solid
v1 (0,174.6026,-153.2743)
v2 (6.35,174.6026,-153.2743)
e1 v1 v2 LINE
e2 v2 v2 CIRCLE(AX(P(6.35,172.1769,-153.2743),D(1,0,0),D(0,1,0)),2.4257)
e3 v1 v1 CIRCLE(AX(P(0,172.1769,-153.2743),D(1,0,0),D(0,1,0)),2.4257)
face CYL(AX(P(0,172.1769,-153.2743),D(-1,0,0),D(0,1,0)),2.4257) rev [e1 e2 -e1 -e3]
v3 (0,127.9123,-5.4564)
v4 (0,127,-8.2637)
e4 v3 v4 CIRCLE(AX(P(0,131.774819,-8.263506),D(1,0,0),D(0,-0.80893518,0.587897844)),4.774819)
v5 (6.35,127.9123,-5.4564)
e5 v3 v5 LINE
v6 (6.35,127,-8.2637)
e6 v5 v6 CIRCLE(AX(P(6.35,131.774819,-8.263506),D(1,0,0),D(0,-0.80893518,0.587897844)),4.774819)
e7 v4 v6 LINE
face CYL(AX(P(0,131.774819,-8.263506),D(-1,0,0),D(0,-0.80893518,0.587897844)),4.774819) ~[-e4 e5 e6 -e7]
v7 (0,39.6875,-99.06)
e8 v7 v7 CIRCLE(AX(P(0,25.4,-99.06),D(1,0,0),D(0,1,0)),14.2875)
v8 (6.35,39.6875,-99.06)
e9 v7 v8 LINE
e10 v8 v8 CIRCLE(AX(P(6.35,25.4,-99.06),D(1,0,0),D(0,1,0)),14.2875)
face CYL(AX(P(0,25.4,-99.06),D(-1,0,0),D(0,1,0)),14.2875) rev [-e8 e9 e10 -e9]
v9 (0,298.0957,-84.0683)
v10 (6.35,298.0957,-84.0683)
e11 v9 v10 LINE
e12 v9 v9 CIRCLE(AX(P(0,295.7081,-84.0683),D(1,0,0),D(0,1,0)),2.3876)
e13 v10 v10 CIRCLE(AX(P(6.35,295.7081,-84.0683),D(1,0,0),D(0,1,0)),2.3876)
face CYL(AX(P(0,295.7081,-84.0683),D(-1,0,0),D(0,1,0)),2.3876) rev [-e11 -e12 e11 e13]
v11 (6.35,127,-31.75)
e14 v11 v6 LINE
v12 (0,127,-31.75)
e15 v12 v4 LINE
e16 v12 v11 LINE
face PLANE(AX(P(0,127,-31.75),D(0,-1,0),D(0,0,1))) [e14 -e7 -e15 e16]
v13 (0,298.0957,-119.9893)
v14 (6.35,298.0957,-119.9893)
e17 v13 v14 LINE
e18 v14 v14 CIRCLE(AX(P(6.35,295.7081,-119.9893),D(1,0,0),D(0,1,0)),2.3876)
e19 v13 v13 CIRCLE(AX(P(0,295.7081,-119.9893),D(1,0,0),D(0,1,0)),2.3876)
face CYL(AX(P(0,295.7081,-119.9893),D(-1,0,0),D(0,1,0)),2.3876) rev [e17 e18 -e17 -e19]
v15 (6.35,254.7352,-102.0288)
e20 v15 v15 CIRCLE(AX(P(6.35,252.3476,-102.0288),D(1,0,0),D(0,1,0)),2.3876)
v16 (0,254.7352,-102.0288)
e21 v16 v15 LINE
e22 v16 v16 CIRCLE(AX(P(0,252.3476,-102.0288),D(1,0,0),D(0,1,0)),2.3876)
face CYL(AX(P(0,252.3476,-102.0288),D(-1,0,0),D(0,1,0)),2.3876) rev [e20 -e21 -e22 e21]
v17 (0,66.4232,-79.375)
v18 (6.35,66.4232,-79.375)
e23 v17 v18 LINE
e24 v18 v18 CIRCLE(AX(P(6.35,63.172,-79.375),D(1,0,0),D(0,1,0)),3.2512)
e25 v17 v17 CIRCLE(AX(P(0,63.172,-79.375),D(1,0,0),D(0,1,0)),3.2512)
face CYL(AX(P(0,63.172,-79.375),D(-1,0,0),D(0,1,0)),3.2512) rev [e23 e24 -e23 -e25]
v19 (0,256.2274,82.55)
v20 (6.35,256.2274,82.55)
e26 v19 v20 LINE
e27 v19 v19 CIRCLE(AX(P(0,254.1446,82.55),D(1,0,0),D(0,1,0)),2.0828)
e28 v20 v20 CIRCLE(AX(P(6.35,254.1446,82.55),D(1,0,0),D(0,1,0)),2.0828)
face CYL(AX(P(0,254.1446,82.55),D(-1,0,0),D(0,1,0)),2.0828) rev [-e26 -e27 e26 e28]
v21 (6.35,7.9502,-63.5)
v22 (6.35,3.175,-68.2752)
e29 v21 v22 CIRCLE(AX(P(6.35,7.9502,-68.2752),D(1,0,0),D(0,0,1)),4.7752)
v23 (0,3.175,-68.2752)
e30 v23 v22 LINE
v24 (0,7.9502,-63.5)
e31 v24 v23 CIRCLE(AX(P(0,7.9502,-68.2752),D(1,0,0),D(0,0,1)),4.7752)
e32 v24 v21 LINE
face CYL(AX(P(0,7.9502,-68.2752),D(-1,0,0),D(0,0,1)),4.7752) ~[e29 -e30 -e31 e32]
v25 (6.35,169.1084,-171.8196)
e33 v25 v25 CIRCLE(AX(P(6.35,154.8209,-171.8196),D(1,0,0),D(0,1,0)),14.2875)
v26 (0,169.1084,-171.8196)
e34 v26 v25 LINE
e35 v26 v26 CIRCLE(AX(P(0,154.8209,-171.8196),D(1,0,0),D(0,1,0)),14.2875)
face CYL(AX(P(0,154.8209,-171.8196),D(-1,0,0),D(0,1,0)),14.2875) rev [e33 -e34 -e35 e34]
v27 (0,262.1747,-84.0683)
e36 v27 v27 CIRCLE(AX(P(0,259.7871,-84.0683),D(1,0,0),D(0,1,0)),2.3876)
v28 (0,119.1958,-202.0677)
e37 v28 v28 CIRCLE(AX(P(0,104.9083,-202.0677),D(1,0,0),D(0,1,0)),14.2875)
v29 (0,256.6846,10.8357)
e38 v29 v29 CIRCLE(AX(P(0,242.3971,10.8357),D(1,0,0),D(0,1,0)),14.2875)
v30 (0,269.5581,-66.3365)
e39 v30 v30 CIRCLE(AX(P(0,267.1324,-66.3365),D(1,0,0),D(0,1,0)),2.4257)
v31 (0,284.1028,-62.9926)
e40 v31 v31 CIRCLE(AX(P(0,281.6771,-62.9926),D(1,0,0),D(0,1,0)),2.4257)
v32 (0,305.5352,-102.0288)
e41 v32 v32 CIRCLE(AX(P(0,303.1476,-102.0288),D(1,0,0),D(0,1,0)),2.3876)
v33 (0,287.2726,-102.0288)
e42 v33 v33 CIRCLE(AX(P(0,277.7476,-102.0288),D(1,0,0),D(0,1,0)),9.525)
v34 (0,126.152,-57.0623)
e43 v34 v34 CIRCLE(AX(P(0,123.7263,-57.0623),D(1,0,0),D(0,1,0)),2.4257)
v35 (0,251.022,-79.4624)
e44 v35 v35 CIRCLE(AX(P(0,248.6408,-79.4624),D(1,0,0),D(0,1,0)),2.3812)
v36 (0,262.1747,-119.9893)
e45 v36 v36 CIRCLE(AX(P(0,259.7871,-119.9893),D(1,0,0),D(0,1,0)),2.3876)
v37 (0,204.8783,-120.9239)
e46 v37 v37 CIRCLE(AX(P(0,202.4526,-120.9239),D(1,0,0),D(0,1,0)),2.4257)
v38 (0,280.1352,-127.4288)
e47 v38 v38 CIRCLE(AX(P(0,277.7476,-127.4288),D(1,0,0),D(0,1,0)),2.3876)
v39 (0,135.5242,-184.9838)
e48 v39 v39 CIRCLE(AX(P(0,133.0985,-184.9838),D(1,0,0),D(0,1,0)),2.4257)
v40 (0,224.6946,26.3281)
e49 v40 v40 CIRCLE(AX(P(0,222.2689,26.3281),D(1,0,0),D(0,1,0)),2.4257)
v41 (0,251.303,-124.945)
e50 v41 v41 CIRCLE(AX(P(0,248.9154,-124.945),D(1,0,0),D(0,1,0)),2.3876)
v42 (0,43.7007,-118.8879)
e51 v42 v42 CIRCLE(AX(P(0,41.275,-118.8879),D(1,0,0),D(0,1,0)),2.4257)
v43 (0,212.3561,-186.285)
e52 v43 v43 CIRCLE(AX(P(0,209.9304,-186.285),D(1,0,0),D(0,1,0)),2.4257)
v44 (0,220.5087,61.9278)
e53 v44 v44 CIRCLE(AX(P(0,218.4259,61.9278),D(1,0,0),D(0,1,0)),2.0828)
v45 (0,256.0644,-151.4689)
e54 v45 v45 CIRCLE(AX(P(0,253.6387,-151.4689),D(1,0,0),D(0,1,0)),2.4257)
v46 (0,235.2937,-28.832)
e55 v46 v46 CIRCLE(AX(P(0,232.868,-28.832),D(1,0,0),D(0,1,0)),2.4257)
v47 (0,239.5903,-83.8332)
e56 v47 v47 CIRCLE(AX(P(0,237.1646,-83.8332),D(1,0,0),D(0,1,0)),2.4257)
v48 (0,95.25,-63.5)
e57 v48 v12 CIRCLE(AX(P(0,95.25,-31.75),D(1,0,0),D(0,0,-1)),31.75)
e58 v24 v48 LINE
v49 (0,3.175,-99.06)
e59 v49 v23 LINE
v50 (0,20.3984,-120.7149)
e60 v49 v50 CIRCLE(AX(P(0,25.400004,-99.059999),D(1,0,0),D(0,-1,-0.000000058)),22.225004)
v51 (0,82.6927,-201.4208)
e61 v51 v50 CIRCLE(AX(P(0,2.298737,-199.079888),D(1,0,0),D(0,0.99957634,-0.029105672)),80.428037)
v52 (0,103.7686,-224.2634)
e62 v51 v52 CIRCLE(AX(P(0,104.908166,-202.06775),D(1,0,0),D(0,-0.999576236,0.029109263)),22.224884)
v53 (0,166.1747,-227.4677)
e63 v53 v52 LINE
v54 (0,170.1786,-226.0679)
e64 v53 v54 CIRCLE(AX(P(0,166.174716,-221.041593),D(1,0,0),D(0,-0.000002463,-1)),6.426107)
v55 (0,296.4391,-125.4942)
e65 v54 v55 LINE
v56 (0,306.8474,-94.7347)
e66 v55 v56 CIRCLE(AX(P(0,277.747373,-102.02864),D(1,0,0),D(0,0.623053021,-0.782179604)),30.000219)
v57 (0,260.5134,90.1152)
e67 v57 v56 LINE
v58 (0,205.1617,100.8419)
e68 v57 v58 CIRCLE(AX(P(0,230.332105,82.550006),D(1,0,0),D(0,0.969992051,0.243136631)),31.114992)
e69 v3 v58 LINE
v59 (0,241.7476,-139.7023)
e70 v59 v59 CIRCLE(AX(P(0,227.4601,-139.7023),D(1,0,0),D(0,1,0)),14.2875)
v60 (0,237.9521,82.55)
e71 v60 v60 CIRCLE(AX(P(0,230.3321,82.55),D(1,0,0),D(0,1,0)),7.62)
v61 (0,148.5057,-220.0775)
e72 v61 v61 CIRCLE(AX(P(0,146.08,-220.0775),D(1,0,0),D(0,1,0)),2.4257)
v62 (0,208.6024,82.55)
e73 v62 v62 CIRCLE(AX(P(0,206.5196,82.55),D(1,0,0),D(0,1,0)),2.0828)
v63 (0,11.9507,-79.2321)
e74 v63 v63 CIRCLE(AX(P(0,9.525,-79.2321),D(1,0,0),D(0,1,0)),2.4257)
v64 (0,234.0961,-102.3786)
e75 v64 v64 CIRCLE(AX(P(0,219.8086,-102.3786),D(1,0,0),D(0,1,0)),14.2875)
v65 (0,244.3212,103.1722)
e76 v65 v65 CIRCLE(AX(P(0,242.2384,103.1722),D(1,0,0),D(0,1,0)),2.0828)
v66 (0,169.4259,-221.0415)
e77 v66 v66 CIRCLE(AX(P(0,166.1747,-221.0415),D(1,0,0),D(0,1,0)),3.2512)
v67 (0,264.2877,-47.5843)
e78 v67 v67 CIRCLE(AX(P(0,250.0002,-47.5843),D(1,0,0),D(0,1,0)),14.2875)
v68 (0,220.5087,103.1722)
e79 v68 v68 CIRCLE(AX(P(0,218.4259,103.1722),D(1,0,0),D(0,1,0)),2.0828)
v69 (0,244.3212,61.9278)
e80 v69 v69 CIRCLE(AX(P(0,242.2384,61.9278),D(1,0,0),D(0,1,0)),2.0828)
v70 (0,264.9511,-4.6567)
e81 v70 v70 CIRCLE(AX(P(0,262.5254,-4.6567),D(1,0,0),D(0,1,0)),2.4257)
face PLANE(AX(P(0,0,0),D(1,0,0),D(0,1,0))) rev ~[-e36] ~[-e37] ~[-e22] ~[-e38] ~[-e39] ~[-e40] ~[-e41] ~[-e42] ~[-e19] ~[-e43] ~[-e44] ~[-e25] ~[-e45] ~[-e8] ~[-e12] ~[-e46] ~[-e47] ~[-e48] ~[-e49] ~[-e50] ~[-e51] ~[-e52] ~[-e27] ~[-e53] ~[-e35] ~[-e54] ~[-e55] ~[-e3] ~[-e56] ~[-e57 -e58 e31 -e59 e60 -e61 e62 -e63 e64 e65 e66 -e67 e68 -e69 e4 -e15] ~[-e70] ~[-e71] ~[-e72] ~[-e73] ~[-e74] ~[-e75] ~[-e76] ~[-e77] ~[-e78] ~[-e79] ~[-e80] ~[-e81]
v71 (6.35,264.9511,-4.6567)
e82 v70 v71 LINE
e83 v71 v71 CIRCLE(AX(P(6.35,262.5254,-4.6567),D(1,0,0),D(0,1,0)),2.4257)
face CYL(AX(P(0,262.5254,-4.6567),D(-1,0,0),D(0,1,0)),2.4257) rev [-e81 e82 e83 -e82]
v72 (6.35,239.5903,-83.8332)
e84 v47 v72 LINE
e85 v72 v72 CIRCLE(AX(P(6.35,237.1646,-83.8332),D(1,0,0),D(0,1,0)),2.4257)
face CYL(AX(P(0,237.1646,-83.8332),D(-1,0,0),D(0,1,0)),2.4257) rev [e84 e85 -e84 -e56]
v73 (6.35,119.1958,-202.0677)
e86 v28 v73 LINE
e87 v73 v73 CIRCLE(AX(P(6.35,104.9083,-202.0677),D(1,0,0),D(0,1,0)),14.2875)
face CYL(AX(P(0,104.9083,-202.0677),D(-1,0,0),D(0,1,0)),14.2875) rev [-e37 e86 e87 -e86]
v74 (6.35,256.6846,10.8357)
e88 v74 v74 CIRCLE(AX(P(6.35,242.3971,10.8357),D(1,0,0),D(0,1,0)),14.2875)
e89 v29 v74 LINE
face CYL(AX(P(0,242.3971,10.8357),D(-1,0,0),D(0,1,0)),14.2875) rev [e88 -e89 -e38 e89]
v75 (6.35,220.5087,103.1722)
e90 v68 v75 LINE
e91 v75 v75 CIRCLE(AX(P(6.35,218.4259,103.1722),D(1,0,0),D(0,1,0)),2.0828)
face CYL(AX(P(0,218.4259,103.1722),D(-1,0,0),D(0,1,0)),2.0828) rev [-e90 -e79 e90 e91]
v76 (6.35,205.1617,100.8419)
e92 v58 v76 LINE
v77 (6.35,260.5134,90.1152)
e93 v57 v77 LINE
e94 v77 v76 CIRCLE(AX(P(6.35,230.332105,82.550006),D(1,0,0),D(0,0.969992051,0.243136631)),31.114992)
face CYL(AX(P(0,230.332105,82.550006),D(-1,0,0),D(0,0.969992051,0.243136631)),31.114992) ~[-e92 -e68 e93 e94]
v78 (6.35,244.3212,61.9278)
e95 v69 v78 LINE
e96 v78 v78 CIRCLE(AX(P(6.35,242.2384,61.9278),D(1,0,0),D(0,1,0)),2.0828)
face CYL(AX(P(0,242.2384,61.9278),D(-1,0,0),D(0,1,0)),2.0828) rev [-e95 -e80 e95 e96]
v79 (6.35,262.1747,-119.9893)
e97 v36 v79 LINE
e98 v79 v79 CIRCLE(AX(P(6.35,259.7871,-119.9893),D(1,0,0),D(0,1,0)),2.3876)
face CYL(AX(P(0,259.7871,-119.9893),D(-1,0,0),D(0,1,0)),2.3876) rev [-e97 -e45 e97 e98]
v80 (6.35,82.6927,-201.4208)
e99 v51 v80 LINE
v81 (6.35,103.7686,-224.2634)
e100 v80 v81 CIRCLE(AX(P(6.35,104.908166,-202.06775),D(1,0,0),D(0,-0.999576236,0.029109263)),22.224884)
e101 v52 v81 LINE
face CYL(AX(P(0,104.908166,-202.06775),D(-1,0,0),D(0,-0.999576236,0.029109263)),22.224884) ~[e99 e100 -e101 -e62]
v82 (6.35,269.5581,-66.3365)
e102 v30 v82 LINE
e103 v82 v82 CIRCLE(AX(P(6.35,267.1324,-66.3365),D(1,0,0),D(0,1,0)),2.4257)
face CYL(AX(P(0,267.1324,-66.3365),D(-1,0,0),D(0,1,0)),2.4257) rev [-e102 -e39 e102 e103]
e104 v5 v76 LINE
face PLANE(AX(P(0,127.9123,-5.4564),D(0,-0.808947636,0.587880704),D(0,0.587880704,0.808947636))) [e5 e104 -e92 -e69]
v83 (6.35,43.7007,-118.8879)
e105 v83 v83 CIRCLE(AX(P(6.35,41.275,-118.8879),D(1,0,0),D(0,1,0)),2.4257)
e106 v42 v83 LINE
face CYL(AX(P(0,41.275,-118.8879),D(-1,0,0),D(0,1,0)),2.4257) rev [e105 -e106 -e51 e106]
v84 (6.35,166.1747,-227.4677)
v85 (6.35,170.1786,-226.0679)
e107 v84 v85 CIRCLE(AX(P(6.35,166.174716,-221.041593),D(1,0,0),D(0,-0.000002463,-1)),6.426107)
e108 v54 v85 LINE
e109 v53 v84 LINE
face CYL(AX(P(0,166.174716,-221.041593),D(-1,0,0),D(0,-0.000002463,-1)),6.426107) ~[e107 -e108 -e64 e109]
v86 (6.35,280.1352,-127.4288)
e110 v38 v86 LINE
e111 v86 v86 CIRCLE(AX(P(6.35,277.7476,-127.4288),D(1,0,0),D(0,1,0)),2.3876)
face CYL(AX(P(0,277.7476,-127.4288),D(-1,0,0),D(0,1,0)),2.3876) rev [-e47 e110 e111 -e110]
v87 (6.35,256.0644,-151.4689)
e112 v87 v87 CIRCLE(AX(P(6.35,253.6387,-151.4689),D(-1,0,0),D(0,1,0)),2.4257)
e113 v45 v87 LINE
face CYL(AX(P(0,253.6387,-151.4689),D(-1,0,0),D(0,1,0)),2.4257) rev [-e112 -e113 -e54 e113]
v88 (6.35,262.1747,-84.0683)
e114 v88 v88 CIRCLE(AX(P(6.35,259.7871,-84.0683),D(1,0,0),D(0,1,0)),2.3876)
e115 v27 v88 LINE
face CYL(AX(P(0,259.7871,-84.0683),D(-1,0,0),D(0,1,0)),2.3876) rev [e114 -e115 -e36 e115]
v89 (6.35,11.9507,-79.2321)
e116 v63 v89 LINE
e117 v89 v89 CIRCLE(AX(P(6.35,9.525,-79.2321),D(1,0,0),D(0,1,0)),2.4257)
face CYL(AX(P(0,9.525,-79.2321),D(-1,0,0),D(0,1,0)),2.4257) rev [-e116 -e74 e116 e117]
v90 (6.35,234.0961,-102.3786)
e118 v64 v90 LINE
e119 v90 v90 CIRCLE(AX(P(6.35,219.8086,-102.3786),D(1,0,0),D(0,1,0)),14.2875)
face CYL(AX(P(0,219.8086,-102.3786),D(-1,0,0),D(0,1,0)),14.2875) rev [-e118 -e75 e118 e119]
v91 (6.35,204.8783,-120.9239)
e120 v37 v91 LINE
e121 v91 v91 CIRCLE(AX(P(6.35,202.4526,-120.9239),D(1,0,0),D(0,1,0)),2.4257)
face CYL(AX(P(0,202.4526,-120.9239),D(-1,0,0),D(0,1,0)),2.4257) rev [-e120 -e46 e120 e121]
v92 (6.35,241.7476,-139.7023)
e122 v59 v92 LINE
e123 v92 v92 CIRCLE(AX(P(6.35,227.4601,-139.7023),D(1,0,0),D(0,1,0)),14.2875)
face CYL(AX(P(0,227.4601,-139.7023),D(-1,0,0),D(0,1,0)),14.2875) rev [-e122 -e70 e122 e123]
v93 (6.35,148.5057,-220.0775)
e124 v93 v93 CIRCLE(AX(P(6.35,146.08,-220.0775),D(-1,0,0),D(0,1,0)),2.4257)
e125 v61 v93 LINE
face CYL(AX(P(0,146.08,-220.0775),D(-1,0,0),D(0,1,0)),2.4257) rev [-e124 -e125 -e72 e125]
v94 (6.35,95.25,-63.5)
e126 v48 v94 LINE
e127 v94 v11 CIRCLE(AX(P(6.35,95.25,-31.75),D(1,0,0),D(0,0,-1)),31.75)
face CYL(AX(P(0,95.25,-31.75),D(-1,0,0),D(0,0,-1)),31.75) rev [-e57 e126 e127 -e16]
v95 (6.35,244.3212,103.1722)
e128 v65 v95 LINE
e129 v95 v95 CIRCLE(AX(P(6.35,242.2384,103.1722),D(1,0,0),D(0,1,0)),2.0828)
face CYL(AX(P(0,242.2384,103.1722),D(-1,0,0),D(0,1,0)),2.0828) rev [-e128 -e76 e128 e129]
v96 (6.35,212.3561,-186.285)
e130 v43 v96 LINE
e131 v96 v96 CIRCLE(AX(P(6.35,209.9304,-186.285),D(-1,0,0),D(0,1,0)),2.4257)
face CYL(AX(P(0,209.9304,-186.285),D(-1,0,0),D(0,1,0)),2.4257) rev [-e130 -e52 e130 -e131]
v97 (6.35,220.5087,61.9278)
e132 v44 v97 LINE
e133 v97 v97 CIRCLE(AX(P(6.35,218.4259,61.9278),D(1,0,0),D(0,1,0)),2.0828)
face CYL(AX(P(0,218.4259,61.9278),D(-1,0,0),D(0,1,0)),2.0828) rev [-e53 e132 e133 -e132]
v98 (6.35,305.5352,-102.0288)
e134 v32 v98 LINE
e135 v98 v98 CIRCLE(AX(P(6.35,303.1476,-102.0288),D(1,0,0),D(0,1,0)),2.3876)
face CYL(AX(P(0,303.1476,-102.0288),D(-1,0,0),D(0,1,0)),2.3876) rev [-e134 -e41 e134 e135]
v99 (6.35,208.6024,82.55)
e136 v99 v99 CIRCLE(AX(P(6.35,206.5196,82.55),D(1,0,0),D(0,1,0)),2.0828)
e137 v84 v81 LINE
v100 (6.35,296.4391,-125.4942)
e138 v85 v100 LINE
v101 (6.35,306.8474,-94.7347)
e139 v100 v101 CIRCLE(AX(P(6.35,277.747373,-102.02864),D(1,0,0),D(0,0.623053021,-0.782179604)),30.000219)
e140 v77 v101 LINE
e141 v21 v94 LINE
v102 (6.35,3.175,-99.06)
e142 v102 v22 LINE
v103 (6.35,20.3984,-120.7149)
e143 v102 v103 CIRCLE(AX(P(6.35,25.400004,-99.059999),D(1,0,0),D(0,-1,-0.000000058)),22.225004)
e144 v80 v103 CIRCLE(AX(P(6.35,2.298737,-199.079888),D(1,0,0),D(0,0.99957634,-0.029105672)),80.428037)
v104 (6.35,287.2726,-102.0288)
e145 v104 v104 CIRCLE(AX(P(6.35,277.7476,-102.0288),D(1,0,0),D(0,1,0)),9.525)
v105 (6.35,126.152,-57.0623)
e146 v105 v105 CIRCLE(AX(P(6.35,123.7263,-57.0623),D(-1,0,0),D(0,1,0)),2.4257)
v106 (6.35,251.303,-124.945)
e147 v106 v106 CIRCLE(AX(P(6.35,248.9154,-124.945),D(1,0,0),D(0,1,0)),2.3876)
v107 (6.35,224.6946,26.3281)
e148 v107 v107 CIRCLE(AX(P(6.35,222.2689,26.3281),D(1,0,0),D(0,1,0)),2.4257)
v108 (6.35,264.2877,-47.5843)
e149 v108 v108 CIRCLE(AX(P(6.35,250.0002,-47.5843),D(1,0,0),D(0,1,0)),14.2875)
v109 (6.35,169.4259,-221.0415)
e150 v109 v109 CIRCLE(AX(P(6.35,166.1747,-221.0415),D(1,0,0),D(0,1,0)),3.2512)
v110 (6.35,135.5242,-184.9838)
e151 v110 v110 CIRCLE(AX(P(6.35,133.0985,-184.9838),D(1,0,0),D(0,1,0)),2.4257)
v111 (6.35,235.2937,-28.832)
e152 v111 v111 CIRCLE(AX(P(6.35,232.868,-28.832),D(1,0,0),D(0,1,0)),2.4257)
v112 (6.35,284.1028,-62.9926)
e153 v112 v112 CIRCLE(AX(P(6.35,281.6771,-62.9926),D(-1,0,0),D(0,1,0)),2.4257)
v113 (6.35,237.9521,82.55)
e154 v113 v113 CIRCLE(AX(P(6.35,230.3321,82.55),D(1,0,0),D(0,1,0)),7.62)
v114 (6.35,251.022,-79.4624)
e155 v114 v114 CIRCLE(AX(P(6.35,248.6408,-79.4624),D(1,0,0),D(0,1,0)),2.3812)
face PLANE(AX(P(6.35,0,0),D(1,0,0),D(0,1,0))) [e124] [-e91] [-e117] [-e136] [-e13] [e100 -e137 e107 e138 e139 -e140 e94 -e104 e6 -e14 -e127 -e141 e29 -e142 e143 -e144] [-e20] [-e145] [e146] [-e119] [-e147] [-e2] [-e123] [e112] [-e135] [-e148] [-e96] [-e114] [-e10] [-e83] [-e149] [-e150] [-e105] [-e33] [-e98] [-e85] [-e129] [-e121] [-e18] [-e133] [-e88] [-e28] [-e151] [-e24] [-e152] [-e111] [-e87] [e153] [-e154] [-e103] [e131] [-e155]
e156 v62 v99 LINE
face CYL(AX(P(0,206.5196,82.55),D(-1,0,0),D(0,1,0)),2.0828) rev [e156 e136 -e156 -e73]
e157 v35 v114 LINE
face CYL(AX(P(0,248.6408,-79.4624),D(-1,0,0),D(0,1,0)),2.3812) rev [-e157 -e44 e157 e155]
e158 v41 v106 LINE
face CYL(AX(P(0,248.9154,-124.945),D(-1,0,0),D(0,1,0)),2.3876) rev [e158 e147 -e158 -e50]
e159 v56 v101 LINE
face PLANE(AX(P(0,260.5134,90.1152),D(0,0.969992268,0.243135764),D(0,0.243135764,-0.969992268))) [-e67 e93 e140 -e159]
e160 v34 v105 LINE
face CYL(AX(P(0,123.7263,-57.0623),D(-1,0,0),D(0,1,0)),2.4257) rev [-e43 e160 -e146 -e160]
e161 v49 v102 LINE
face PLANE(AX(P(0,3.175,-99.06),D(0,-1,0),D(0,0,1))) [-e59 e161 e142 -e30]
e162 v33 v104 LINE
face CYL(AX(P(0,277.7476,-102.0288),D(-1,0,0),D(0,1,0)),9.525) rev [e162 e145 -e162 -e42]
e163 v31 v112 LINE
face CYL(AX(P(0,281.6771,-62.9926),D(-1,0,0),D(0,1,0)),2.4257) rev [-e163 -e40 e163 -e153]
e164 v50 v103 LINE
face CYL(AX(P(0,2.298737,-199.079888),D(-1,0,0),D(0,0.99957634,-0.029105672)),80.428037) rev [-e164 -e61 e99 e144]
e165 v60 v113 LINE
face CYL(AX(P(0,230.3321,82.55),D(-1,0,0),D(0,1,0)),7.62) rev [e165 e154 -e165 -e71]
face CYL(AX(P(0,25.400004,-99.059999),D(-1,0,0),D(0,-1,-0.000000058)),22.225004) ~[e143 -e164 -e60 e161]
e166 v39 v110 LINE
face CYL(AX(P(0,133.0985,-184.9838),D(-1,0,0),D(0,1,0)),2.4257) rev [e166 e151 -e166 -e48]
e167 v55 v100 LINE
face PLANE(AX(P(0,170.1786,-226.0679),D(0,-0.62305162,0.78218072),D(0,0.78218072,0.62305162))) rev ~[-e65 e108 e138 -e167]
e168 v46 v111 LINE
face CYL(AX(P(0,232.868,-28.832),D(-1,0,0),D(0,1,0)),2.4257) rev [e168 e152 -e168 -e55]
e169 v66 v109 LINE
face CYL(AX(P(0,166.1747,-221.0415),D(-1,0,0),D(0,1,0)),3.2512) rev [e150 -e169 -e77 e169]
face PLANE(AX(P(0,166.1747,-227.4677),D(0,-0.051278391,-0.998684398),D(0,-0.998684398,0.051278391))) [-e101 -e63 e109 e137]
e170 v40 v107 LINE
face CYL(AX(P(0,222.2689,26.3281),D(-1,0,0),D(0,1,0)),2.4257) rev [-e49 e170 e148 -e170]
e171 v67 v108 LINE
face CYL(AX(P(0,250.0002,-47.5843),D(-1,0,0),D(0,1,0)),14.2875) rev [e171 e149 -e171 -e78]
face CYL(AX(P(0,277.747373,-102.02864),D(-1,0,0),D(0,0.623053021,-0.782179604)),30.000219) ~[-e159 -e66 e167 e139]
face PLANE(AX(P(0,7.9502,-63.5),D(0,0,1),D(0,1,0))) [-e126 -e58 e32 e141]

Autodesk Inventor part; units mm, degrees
ref_plane "YZ Plane" through (0, 0, 0) normal (1, 0, 0) x (0, 1, 0)
ref_plane "XZ Plane" through (0, 0, 0) normal (0, 1, 0) x (-1, 0, 0)
ref_plane "XY Plane" through (0, 0, 0) normal (0, 0, 1) x (1, 0, 0)
sketch "Sketch1" plane through (0, 0, 0) normal (1, 0, 0) x (0, 1, 0)
  line L0 (127, 0) -> (127, -31.75) construction
  line L1 (95.25, -63.5) -> (31.75, -63.5) construction
  line L2 (0, -31.75) -> (0, 0) construction
  arc A0 (95.25, -63.5) -> (127, -31.75) centre (95.25, -31.75) ccw construction
  arc A1 (0, -31.75) -> (31.75, -63.5) centre (31.75, -31.75) ccw construction
  line L3 (0, 0) -> (0, 19.05) construction
  line L4 (0, 19.05) -> (-12.7, 19.05) construction
  line L5 (82.55, 19.05) -> (82.55, 292.1) construction
  circle A2 centre (82.55, 292.1) radius 25.4 construction
  circle A3 centre (82.55, 292.1) radius 31.75 construction
  circle A4 centre (231.775, 292.1) radius 25.4 construction
  circle A5 centre (231.775, 292.1) radius 31.75 construction
  line L6 (-12.7, 19.05) -> (82.55, 19.05) construction
  line L7 (127, 0) -> (0, 0) construction
  line L8 (-12.7, 19.05) -> (-12.7, -285.75) construction
  circle A6 centre (38.1, -172.5837) radius 50.8 construction
  circle A7 centre (104.9083, -202.0677) radius 25.4 construction
  circle A8 centre (104.9083, -202.0677) radius 14.2875
  circle A9 centre (154.8209, -171.8196) radius 25.4 construction
  circle A10 centre (154.8209, -171.8196) radius 14.2875
  circle A11 centre (250.0002, -47.5843) radius 22.225 construction
  circle A12 centre (250.0002, -47.5843) radius 25.4 construction
  circle A13 centre (250.0002, -47.5843) radius 14.2875
  line L9 (82.55, 19.05) -> (127, 19.05) construction
  line L10 (127, 19.05) -> (127, 0) construction
  circle A14 centre (154.8209, -171.8196) radius 22.225 construction
  circle A15 centre (104.9083, -202.0677) radius 22.225 construction
  circle A16 centre (25.4, -99.06) radius 25.4 construction
  circle A17 centre (25.4, -99.06) radius 23.8125 construction
  line L11 (25.4, -73.66) -> (25.4, -63.5) construction
  circle A18 centre (219.8086, -102.3786) radius 25.4 construction
  circle A19 centre (219.8086, -102.3786) radius 22.225 construction
  circle A20 centre (219.8086, -102.3786) radius 14.2875
  line L12 (0, -99.06) -> (-12.7, -99.06) construction
  circle A21 centre (63.172, -79.375) radius 6.477 construction
  circle A22 centre (25.4, -99.06) radius 14.2875
  circle A23 centre (63.172, -79.375) radius 3.2512
  circle A24 centre (95.1707, -129.6948) radius 50.8 construction
  circle A25 centre (147.0613, -96.0158) radius 50.8 construction
  circle A26 centre (105.4747, -117.9903) radius 50.8 construction
  circle A27 centre (166.1747, -221.0415) radius 3.2512
  circle A28 centre (242.3971, 10.8357) radius 14.2875
  circle A29 centre (242.3971, 10.8357) radius 22.225 construction
  line L13 (219.8086, -102.3786) -> (154.8209, -171.8196) construction
  line L14 (154.8209, -171.8196) -> (104.9083, -202.0677) construction
  line L15 (82.55, 19.05) -> (31.75, 19.05) construction
  line L16 (31.75, 19.05) -> (31.75, 292.1) construction
  line L17 (31.75, 292.1) -> (82.55, 292.1) construction
  circle A30 centre (242.3971, 10.8357) radius 7.62 construction
  line L18 (-12.7, -285.75) -> (571.5, -285.75) construction
  line L19 (571.5, -285.75) -> (571.5, 292.1) construction
  line L20 (31.75, 292.1) -> (571.5, 292.1) construction
  line L21 (127, 19.05) -> (571.5, 19.05) construction
  circle A31 centre (230.3321, 82.55) radius 7.62
  circle A32 centre (230.3321, 82.55) radius 23.8125 construction
  circle A33 centre (254.1446, 82.55) radius 2.0828
  circle A34 centre (230.3321, 82.55) radius 27.94 construction
  circle A35 centre (230.3321, 82.55) radius 31.115 construction
  circle A36 centre (242.2384, 103.1722) radius 2.0828
  circle A37 centre (218.4259, 103.1722) radius 2.0828
  circle A38 centre (206.5196, 82.55) radius 2.0828
  circle A39 centre (218.4259, 61.9278) radius 2.0828
  circle A40 centre (242.2384, 61.9278) radius 2.0828
  line L22 (-12.7, -63.5) -> (368.3, -63.5) construction
  circle A41 centre (166.1747, -221.0415) radius 6.4262 construction
  line L23 (368.3, -63.5) -> (368.3, -285.75) construction
  circle A42 centre (63.172, -79.375) radius 6.35 construction
  circle A43 centre (242.3971, 10.8357) radius 25.4 construction
  line L24 (242.3971, 10.8357) -> (250.0002, -47.5843) construction
  line L25 (82.55, 19.05) -> (141.3002, 19.05) construction
  line L26 (141.3002, 19.05) -> (141.3002, 209.55) construction
  line L27 (141.3002, 209.55) -> (82.55, 209.55) construction
  line L28 (82.55, 209.55) -> (82.55, 19.05) construction
  circle A44 centre (133.35, 12.7) radius 6.35 construction
  circle A45 centre (177.4795, -39.017) radius 50.8 construction
  circle A46 centre (177.8, -23.221) radius 50.8 construction
  circle A47 centre (25.4, -99.06) radius 22.225 construction
  line L29 (3.175, -99.06) -> (3.175, -68.2752)
  circle A48 centre (133.35, 12.7) radius 3.2512 construction
  arc A49 (166.1747, -227.4677) -> (170.1786, -226.0679) centre (166.1747, -221.0415) ccw
  arc A50 (3.175, -99.06) -> (20.3984, -120.7149) centre (25.4, -99.06) ccw
  arc A51 (7.9502, -63.5) -> (3.175, -68.2752) centre (7.9502, -68.2752) ccw
  arc A52 (260.5134, 90.1152) -> (205.1617, 100.8419) centre (230.3321, 82.55) ccw
  line L30 (141.3002, 53.086) -> (157.9626, 53.086) construction
  line L31 (157.9626, 53.086) -> (157.9626, 86.106) construction
  line L32 (157.9626, 86.106) -> (141.3002, 86.106) construction
  line L33 (141.3002, 86.106) -> (141.3002, 53.086) construction
  line L34 (232.868, -28.832) -> (267.1324, -66.3365) construction
  circle A53 centre (232.868, -28.832) radius 2.4257
  circle A54 centre (267.1324, -66.3365) radius 2.4257
  line L35 (236.3587, 15.4834) -> (262.5254, -4.6567) construction
  line L36 (236.3587, 15.4834) -> (222.2689, 26.3281) construction
  circle A55 centre (262.5254, -4.6567) radius 2.4257
  circle A56 centre (222.2689, 26.3281) radius 2.4257
  circle A57 centre (262.5254, -4.6567) radius 6.35 construction
  circle A58 centre (222.2689, 26.3281) radius 6.35 construction
  circle A59 centre (232.868, -28.832) radius 6.35 construction
  circle A60 centre (267.1324, -66.3365) radius 6.35 construction
  line L37 (219.8086, -102.3786) -> (237.1646, -83.8332) construction
  line L38 (219.8086, -102.3786) -> (202.4526, -120.9239) construction
  circle A61 centre (237.1646, -83.8332) radius 2.4257
  circle A62 centre (202.4526, -120.9239) radius 2.4257
  circle A63 centre (172.1769, -153.2743) radius 2.4257
  circle A64 centre (133.0985, -184.9838) radius 2.4257
  arc A65 (82.6927, -201.4208) -> (103.7686, -224.2634) centre (104.9083, -202.0677) ccw
  circle A66 centre (9.525, -79.2321) radius 2.4257
  circle A67 centre (9.525, -79.2321) radius 6.35 construction
  arc A68 (82.6927, -201.4208) -> (20.3984, -120.7149) centre (2.2987, -199.0799) ccw
  line L39 (9.525, -79.2321) -> (41.275, -118.8879) construction
  circle A69 centre (41.275, -118.8879) radius 2.4257
  circle A70 centre (41.275, -118.8879) radius 5.6007 construction
  line L40 (7.9502, -63.5) -> (95.25, -63.5)
  arc A71 (95.25, -63.5) -> (127, -31.75) centre (95.25, -31.75) ccw
  line L41 (166.1747, -227.4677) -> (103.7686, -224.2634)
  line L42 (104.9083, -202.0677) -> (83.1859, -215.2319) construction
  line L43 (82.55, 133.35) -> (88.9, 133.35) construction
  line L44 (82.55, 184.15) -> (88.9, 184.15) construction
  line L45 (127, -31.75) -> (127, -8.2637)
  line L46 (127.9123, -5.4564) -> (205.1617, 100.8419)
  arc A72 (127.9123, -5.4564) -> (127, -8.2637) centre (131.7752, -8.2637) ccw
  line L47 (82.55, 44.45) -> (571.5, 44.45) construction
  circle A73 centre (133.0985, -184.9838) radius 6.35 construction
  circle A74 centre (141.7169, -99.98) radius 50.8 construction
  circle A75 centre (277.7476, -102.0288) radius 30 construction
  circle A76 centre (277.7476, -102.0288) radius 25.4 construction
  circle A77 centre (303.1476, -102.0288) radius 2.3876
  circle A78 centre (295.7081, -84.0683) radius 2.3876
  circle A79 centre (277.7476, -76.6288) radius 2.3876 construction
  circle A80 centre (259.7871, -84.0683) radius 2.3876
  circle A81 centre (252.3476, -102.0288) radius 2.3876
  circle A82 centre (259.7871, -119.9893) radius 2.3876
  circle A83 centre (277.7476, -127.4288) radius 2.3876
  circle A84 centre (295.7081, -119.9893) radius 2.3876
  circle A85 centre (277.7476, -102.0288) radius 9.525
  circle A86 centre (219.8086, -102.3786) radius 19.05 construction
  circle A87 centre (227.4601, -139.7023) radius 19.05 construction
  circle A88 centre (227.4601, -139.7023) radius 14.2875
  line L48 (247.7482, -102.2099) -> (245.2082, -102.2252) construction
  line L49 (170.1786, -226.0679) -> (296.4391, -125.4942)
  line L50 (260.5134, 90.1152) -> (306.8474, -94.7347)
  arc A89 (296.4391, -125.4942) -> (306.8474, -94.7347) centre (277.7476, -102.0288) ccw
  circle A90 centre (219.8086, -102.3786) radius 30.48 construction
  circle A91 centre (277.7476, -102.0288) radius 30.48 construction
  circle A92 centre (248.6408, -79.4624) radius 3.81 construction
  line L51 (251.6519, -81.7968) -> (253.6592, -83.3531) construction
  line L52 (245.6582, -81.833) -> (243.6698, -83.4134) construction
  circle A93 centre (248.6408, -79.4624) radius 2.3812
  circle A94 centre (248.9154, -124.945) radius 3.81 construction
  circle A95 centre (248.9154, -124.945) radius 2.3876
  line L53 (251.898, -122.5744) -> (253.8865, -120.9939) construction
  line L54 (245.9043, -122.6105) -> (243.897, -121.0542) construction
  line L55 (248.6408, -75.6524) -> (248.6408, -72.9479) construction
  line L56 (219.8086, -102.3786) -> (219.8086, -88.0911) construction
  circle A96 centre (232.868, -28.832) radius 2.4257
  circle A97 centre (9.525, -79.2321) radius 2.4257
  circle A98 centre (146.08, -220.0775) radius 2.4257
  circle A99 centre (253.6387, -151.4689) radius 2.4257
  circle A100 centre (209.9304, -186.285) radius 2.4257
  circle A101 centre (281.6771, -62.9926) radius 2.4257
  line L57 (123.7263, -57.0623) -> (232.868, -28.832) construction
  line L58 (232.868, -28.832) -> (281.6771, -62.9926) construction
  line L59 (281.6771, -62.9926) -> (253.6387, -151.4689) construction
  line L60 (253.6387, -151.4689) -> (209.9304, -186.285) construction
  line L61 (209.9304, -186.285) -> (146.08, -220.0775) construction
  line L62 (146.08, -220.0775) -> (9.525, -79.2321) construction
  line L63 (123.7263, -57.0623) -> (9.525, -79.2321) construction
  circle A102 centre (146.08, -220.0775) radius 6.35 construction
  circle A103 centre (123.7263, -57.0623) radius 2.4257
  line L64 (277.7476, -102.0288) -> (219.8086, -102.3786) construction
  line L65 (250.0002, -47.5843) -> (219.8086, -102.3786) construction
  point P0 (-12.7, -172.5837)
  point P1 (180.2209, -171.8196)
  point P2 (104.775, 19.05)
  point P3 (172.6009, -221.0415)
  point P4 (127, -63.5)
  point P5 (3.175, -63.5)
  point P6 (104.9083, -227.4677)
  point P7 (95.25, -63.5)
  point P8 (127, -6.7118)
  point P9 (222.7121, 82.55)
  point P10 (220.1721, 10.8357)
  point P11 (25.4, -99.06)
  dimension "d58" = 101.6
  dimension "d267" = 15.24
  dimension "d283" = 15.24
  dimension "d284" = 47.625
  dimension "d523" = 50.8
  dimension "d2" = 31.75
  dimension "d3" = 19.05
  dimension "d4" = 12.7
  dimension "d7" = 273.05
  dimension "d8" = 50.8
  dimension "d9" = 6.35
  dimension "d10" = 50.8
  dimension "d11" = 6.35
  dimension "d12" = 149.225
  dimension "d14" = 127
  dimension "d16" = 304.8
  dimension "d175" = 31.75
  dimension "d180" = 50.8
  dimension "d181" = 1.5875
  dimension "d187" = 31.75
  dimension "d189" = 12.7
  dimension "d191" = 12.954
  dimension "d192" = 28.575
  dimension "d201" = 6.5024
  dimension "d207" = 101.6
  dimension "d208" = 101.6
  dimension "d210" = 130.175
  dimension "d214" = 15.875
  dimension "d218" = 6.5024
  dimension "d220" = 143.1895
  dimension "d236" = 50.8
  dimension "d237" = 44.45
  dimension "d271" = 584.2
  dimension "d285" = 4.1656
  dimension "d290" = 55.88
  dimension "d292" = 3.175
  dimension "d321" = 360
  dimension "d323" = 381
  dimension "d328" = 3.175
  dimension "d336" = 12.7
  dimension "d375" = 10.16
  dimension "d388" = 50.8
  dimension "d389" = 3.175
  dimension "d395" = 44.45
  dimension "d399" = 58.7502
  dimension "d400" = 190.5
  dimension "d404" = 12.7
  dimension "d405" = 101.6
  dimension "d406" = 101.6
  dimension "d409" = 3.175
  dimension "d410" = 6.5024
  dimension "d411" = 4.7752
  dimension "d427" = 16.6624
  dimension "d428" = 33.02
  dimension "d429" = 34.036
  dimension "d433" = 4.8514
  dimension "d434" = 4.8514
  dimension "d435" = 4.8514
  dimension "d436" = 4.8514
  dimension "d441" = 45
  dimension "d443" = 4.8514
  dimension "d444" = 4.8514
  dimension "d445" = 4.8514
  dimension "d446" = 4.8514
  dimension "d453" = 4.8514
  dimension "d459" = 4.8514
  dimension "d460" = 3.175
  dimension "d470" = 273.05
  dimension "d471" = 62.5615
extrude "Extrusion14" add sketch "Sketch1" along normal blind 6.35 contours L29 A51 L40 A71 L45 A72 L46 A52 L50 A89 L49 A49 L41 A65 A68 A50 | A77 | A81 | A83 | A93 | A95 | A98 | A99 | A100 | A101 | A103
extrude "Extrusion15" cut sketch "Sketch1" along normal blind 6.35 contours A77 | A81 | A83
extrude "Extrusion16" cut sketch "Sketch1" along normal blind 6.35 contours A93 | A95
extrude "Extrusion17" cut sketch "Sketch1" along normal blind 25.4 contours A98 | A99 | A100 | A101 | A103
properties part number "Intake Roller Plate" material "Aluminum 6061"
